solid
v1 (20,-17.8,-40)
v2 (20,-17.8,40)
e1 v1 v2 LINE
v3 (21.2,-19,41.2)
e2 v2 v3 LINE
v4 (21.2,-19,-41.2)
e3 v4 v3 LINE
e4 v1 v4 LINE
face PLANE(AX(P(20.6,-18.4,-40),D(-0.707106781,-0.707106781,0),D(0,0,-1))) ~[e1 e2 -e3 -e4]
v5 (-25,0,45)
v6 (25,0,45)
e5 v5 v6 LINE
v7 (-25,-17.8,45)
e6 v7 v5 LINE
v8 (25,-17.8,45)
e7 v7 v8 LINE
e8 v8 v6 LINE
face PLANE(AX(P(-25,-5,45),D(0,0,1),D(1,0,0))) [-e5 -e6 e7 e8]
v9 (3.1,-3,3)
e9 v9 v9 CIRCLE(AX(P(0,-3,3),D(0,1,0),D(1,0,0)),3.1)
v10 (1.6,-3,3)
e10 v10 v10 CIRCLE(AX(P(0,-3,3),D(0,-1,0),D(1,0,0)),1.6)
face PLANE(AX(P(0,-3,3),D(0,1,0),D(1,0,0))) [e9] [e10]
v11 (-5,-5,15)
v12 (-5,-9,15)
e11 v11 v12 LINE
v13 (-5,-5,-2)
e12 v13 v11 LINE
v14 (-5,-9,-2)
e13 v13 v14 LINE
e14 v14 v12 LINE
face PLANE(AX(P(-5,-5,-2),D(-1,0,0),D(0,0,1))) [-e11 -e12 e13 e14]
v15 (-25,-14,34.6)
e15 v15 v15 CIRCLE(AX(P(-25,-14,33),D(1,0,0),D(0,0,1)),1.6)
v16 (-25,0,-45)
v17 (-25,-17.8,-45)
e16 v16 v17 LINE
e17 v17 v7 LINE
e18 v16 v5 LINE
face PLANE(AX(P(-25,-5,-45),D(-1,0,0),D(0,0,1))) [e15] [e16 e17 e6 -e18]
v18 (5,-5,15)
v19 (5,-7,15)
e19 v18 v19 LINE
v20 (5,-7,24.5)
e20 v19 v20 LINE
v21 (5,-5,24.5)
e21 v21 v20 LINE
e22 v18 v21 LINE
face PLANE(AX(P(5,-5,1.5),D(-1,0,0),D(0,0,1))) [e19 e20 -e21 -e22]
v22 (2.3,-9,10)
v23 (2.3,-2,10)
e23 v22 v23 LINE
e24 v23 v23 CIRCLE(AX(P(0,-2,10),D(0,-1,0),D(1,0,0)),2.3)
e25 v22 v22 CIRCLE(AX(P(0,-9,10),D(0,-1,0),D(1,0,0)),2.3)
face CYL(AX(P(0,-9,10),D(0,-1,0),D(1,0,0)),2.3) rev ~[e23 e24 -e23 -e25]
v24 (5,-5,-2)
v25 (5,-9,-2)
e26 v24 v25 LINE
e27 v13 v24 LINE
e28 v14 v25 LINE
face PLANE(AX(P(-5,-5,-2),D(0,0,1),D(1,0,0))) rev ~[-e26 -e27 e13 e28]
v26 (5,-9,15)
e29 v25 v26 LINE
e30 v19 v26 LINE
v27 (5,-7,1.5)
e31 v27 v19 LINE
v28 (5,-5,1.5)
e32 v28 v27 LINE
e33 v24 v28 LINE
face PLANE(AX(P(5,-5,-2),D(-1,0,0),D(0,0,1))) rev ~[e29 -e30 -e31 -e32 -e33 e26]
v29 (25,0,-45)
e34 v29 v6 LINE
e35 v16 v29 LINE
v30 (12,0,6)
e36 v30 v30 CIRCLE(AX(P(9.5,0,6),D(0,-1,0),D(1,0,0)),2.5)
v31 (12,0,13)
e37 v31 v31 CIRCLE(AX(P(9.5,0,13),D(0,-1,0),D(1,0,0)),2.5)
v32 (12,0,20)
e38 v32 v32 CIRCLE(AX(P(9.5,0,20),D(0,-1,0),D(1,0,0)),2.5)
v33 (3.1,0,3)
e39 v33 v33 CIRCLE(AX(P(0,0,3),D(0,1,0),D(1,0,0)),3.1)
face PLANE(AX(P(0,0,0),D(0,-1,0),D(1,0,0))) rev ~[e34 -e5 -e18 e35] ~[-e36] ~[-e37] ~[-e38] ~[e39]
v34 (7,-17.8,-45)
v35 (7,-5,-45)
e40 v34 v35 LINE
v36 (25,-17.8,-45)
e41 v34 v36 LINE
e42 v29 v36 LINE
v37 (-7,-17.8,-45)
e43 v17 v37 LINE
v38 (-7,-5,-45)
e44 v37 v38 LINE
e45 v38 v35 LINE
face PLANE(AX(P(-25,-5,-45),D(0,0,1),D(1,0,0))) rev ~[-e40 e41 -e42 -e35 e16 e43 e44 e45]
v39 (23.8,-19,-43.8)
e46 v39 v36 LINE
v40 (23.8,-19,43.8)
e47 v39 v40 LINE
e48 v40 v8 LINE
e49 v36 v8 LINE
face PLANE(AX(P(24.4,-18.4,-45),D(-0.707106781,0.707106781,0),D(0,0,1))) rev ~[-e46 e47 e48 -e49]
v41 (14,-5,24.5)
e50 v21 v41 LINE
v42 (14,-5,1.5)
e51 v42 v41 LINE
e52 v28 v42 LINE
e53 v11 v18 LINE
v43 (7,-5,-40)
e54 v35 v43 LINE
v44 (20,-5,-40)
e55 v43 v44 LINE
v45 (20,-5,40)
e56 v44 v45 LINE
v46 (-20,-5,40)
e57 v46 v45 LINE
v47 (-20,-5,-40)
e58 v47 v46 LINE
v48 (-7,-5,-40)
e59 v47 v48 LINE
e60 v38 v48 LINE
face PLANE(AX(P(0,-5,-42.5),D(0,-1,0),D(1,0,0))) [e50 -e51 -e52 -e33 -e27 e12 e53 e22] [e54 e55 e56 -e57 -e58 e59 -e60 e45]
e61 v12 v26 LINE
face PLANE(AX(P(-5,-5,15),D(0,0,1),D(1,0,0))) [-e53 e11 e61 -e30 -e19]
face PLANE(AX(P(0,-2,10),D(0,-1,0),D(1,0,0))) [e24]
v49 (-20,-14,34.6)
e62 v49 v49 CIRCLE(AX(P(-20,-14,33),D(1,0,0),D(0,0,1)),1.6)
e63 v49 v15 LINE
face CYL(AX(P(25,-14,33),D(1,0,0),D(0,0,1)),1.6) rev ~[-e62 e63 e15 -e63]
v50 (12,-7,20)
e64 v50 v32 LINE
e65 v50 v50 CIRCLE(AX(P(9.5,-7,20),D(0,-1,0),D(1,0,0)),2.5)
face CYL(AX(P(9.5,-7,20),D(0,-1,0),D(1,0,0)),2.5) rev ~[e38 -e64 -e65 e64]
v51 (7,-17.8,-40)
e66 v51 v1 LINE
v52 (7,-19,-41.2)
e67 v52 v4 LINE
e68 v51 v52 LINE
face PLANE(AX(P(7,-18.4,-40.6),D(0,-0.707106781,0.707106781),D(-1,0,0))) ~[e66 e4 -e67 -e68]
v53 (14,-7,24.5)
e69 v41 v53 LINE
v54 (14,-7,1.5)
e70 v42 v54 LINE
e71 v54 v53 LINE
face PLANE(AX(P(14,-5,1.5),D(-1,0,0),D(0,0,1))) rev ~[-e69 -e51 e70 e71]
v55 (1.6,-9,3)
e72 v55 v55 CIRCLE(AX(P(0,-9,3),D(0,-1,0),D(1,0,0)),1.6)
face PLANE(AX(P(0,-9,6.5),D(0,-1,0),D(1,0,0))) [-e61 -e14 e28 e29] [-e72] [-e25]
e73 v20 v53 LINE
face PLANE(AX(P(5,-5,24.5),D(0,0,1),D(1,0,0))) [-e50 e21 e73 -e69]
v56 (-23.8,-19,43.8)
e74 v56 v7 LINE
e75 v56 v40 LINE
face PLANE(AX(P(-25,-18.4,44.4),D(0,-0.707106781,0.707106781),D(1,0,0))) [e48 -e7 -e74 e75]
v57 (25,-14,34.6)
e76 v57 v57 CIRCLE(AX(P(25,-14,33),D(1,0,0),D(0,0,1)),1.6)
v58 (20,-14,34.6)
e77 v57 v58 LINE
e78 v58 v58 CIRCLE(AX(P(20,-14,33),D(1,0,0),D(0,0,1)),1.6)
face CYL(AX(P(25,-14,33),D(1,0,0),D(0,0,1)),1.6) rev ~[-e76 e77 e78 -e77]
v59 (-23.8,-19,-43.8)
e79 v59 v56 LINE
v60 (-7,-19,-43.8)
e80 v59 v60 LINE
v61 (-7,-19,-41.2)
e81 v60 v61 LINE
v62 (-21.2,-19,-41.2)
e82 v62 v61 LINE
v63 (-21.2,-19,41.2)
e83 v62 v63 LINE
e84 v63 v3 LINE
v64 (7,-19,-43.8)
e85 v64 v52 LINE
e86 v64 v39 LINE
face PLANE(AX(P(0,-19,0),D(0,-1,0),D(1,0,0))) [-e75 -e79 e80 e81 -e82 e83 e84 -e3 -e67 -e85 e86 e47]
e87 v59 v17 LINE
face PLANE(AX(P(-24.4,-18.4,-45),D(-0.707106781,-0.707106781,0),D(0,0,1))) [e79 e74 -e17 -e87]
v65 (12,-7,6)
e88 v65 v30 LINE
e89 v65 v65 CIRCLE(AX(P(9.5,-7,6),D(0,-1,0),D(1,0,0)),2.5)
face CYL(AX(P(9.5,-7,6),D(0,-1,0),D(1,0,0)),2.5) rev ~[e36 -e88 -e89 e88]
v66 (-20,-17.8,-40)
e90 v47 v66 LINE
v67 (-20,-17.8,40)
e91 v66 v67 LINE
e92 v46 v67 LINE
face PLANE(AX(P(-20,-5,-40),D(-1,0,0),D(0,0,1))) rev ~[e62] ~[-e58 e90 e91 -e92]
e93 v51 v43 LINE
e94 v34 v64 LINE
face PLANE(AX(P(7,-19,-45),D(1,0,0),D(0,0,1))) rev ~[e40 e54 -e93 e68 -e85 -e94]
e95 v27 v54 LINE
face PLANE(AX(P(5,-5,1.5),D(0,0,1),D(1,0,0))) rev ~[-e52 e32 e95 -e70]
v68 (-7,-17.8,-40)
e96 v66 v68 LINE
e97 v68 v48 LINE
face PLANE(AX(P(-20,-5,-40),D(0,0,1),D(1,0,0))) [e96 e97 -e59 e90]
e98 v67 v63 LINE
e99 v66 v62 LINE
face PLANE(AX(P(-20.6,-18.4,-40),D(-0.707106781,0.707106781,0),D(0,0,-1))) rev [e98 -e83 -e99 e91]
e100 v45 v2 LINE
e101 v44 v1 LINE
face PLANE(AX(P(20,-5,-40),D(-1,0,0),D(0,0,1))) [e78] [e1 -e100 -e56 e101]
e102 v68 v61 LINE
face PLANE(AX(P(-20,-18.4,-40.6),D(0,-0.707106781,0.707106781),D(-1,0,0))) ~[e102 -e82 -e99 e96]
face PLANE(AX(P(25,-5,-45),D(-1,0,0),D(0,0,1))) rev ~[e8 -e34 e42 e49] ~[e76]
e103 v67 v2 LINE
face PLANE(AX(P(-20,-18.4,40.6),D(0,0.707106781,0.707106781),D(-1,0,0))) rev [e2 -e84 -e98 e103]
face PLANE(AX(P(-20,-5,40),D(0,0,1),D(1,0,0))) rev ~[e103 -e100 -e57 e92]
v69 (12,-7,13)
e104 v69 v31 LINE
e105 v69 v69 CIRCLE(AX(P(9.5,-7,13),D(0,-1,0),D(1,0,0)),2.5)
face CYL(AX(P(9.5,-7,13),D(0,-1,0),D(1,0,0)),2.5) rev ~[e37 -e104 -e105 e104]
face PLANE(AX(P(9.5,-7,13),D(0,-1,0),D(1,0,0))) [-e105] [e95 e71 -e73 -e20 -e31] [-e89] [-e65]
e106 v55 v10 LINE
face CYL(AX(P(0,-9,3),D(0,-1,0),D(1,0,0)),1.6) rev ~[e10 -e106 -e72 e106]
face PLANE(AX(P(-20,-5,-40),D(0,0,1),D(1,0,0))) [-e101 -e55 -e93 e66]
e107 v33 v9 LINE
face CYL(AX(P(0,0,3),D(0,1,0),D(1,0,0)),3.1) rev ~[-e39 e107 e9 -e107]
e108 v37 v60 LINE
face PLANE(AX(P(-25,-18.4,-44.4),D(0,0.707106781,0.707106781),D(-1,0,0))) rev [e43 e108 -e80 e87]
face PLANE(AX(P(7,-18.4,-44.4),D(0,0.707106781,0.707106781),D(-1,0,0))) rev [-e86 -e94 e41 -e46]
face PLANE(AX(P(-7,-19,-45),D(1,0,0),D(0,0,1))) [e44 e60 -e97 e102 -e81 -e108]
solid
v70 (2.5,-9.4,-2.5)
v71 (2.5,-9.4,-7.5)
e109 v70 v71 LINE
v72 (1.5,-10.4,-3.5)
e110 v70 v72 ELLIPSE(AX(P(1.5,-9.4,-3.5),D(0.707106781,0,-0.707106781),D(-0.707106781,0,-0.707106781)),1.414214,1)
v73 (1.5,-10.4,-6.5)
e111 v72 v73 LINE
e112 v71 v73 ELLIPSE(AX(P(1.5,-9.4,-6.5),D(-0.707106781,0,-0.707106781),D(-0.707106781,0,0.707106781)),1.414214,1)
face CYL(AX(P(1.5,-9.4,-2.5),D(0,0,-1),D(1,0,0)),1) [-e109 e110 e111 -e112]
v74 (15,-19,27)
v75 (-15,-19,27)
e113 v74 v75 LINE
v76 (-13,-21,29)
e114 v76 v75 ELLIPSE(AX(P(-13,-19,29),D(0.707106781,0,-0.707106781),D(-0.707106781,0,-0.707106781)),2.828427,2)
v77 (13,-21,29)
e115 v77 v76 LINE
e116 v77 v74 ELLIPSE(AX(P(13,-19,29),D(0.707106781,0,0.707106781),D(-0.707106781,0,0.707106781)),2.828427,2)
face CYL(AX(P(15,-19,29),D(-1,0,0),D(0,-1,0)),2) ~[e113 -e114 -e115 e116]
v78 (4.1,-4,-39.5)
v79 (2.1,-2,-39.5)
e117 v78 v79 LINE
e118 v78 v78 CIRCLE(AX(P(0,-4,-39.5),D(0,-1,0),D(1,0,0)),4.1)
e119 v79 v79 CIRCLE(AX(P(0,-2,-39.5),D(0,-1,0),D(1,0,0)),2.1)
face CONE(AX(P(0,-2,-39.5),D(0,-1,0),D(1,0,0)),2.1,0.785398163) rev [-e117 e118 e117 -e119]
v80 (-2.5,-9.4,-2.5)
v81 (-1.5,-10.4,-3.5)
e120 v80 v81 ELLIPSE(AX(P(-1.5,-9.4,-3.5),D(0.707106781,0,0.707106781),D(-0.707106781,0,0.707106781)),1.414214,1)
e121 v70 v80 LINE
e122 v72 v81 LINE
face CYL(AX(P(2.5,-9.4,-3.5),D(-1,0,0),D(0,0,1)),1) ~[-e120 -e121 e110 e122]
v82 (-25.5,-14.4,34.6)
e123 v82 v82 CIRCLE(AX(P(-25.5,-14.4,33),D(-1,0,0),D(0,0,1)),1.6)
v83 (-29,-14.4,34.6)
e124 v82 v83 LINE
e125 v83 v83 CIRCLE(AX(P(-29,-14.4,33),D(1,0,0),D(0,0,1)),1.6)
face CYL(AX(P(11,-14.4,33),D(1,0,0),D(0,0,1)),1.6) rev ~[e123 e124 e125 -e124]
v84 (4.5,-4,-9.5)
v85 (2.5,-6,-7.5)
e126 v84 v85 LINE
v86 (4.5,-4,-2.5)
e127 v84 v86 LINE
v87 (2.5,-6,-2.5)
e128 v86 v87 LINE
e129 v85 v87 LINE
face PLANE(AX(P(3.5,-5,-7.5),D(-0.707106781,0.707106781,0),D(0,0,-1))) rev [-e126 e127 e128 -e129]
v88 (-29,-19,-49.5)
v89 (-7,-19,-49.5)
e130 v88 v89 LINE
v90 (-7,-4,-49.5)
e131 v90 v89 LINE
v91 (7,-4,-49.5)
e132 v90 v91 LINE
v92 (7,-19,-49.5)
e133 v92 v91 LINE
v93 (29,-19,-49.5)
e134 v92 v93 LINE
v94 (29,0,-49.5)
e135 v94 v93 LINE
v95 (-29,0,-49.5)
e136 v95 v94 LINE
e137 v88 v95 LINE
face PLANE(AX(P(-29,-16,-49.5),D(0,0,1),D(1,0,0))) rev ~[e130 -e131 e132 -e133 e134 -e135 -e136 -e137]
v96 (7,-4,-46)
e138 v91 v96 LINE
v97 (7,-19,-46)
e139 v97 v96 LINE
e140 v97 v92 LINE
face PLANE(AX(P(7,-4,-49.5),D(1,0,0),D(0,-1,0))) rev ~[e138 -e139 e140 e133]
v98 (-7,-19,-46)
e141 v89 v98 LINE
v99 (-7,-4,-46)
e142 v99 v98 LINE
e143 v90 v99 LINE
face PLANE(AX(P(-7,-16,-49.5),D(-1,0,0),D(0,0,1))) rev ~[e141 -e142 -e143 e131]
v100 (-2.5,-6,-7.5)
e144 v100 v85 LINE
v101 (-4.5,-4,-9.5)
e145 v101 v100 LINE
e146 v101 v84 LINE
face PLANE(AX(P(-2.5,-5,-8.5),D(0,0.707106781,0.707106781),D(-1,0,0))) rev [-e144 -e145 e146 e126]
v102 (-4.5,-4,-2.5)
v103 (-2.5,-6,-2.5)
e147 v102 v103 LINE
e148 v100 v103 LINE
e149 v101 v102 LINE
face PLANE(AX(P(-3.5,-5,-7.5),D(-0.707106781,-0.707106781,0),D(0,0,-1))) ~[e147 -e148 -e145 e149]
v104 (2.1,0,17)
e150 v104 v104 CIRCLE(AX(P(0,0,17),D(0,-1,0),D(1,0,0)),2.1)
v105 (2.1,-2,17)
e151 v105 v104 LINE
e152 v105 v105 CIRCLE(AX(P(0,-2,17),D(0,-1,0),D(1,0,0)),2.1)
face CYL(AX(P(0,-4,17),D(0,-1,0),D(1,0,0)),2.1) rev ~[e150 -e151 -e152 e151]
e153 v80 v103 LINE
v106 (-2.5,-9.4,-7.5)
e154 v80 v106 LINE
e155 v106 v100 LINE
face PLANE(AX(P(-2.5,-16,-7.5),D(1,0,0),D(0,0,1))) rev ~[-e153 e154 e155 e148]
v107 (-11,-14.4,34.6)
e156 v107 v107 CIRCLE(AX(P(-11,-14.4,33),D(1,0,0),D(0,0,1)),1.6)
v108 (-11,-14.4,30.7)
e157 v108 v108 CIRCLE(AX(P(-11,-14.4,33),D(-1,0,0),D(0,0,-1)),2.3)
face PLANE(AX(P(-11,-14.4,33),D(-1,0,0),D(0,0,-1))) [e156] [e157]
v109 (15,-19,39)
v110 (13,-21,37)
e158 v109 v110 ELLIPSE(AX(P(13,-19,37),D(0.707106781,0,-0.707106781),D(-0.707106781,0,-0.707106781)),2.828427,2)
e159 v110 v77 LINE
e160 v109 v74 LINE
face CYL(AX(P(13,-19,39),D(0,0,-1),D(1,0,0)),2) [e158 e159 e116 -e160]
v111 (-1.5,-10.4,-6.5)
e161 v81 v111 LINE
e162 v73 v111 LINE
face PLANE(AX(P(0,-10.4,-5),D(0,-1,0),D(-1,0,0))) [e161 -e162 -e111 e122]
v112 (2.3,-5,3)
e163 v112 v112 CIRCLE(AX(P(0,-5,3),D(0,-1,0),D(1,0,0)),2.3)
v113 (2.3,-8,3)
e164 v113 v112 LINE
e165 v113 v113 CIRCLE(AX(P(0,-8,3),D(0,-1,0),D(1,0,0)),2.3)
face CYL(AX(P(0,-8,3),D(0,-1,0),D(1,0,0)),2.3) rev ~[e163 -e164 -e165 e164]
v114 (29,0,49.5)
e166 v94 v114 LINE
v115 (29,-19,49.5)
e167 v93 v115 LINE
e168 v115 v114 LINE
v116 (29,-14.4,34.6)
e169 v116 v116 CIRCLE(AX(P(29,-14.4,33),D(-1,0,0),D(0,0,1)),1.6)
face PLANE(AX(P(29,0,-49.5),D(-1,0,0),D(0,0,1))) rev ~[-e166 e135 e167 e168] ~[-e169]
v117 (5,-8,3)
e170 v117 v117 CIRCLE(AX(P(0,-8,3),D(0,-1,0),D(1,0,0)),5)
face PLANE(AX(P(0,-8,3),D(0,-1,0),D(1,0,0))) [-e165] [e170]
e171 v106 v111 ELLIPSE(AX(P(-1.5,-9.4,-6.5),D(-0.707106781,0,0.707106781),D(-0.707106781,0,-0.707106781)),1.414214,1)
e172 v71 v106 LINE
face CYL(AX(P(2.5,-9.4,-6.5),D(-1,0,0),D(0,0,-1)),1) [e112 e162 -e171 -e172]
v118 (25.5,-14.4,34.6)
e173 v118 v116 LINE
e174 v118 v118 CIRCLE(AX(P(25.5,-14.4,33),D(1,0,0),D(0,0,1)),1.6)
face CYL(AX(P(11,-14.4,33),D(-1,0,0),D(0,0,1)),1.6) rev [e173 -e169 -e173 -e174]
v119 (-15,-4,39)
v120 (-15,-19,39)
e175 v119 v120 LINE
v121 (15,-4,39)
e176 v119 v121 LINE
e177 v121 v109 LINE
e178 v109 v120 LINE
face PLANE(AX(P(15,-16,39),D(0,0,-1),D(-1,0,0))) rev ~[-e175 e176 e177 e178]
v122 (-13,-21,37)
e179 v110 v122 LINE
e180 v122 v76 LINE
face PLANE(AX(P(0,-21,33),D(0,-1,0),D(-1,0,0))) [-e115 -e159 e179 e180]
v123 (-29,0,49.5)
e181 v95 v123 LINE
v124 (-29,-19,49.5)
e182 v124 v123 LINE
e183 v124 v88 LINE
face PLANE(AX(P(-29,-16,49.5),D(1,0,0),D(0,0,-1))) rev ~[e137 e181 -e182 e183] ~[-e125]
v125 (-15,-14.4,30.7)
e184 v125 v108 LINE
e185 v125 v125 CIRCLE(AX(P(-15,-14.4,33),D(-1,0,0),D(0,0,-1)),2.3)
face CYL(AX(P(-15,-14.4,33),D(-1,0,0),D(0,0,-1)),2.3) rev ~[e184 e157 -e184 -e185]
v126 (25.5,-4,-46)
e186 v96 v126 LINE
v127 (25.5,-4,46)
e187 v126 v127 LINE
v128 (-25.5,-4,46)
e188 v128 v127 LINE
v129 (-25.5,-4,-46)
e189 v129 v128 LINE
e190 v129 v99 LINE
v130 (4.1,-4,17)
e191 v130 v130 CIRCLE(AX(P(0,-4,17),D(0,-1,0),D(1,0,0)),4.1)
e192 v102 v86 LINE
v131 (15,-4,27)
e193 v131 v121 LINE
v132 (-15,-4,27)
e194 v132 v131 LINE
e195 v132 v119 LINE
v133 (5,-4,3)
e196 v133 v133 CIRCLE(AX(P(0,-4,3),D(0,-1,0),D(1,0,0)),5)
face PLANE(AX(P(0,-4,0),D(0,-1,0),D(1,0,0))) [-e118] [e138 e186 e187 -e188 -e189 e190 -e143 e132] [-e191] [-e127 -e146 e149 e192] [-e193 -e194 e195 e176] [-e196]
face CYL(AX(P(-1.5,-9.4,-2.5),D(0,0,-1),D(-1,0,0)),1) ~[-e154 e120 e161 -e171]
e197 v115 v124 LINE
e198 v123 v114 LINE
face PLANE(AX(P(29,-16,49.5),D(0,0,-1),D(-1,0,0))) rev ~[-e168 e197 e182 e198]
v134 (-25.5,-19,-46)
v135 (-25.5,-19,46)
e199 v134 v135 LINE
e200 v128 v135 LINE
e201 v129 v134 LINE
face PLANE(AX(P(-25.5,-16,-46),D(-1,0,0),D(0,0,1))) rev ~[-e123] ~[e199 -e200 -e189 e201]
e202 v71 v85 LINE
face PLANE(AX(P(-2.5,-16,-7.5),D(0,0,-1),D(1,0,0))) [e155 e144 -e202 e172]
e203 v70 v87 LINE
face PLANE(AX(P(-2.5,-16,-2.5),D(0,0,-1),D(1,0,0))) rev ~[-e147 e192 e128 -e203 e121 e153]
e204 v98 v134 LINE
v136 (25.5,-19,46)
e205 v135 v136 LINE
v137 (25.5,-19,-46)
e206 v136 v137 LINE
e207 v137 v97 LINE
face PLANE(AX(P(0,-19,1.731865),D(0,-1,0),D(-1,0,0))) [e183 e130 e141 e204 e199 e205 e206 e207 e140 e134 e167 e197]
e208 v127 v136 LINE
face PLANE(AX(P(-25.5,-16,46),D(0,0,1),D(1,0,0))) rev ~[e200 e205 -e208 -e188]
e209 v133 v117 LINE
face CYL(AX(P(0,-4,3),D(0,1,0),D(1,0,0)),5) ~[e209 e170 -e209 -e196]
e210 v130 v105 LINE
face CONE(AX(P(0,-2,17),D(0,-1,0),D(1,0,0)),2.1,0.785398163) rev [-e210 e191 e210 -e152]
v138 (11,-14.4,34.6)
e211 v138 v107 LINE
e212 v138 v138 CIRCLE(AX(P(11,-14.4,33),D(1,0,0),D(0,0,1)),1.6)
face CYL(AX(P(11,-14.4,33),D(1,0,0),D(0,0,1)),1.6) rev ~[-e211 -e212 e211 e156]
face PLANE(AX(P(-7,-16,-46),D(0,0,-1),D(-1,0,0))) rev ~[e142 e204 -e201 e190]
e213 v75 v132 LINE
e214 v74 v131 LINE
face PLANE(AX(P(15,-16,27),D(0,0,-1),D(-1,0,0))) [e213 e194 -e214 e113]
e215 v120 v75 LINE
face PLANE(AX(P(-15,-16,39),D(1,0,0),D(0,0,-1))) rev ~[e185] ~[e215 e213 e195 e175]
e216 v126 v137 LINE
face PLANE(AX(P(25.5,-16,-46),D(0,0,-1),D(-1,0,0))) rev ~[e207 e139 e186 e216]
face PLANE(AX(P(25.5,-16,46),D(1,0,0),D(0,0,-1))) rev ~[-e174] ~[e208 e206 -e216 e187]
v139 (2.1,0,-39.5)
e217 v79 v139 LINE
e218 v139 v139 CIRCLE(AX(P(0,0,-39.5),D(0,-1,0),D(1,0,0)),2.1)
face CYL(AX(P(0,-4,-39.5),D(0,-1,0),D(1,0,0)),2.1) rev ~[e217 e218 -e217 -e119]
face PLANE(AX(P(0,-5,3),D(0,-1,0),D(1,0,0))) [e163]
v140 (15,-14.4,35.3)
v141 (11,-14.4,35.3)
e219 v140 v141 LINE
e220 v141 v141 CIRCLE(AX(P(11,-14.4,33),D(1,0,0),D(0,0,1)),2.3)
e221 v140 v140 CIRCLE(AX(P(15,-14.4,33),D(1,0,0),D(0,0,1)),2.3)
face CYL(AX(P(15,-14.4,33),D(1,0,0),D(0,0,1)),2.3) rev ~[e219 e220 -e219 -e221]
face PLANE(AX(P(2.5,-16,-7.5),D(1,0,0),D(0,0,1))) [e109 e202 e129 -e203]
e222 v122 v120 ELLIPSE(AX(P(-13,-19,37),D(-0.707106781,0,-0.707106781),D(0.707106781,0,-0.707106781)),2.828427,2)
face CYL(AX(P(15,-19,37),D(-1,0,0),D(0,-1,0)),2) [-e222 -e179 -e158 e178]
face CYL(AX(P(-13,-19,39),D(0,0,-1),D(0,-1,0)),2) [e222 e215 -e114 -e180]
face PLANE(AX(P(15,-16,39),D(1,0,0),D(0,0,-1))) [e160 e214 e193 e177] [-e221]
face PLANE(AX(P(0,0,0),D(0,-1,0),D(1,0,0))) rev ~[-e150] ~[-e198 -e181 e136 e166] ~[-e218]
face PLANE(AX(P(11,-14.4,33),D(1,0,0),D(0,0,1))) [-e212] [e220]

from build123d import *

# Parameters (mm, degrees)
SKETCH006_W          = 58
SKETCH006_H          = 99
PAD004_DEPTH         = 16
SKETCH007_W          = 51
SKETCH007_H          = 92
SKETCH007_W_2        = 30
SKETCH007_H_2        = 12
SKETCH007_W_3        = 5
SKETCH007_H_3        = 5
POCKET004_DEPTH      = 12
POCKET004_FACE21_W   = 5
POCKET004_FACE21_H   = 5
POCKET005_DEPTH      = 5.6
POCKET005_FACE20_W   = 30
POCKET005_FACE20_H   = 12
PAD005_DEPTH         = 5
SKETCH009_R          = 2.3
POCKET006_DEPTH      = 4
SKETCH010_R          = 2.3
POCKET007_DEPTH      = 4
SKETCH011_R          = 1.6
POCKET008_DEPTH      = 40.001
POCKET008_DEPTH_BACK = -18.001
FILLET_R             = 2
FILLET001_R          = 1
SKETCH012_W          = 14
SKETCH012_H          = 12
POCKET009_DEPTH      = 3.5
SKETCH015_R          = 5
PAD007_DEPTH         = 4
SKETCH016_R          = 2.3
POCKET012_DEPTH      = 3
PAD012_DEPTH         = 3
SKETCH_R             = 2.1
POCKET_DEPTH         = 4.001
CHAMFER_SIZE         = 2
CHAMFER001_SIZE      = 2
SKETCH017_W          = 50
SKETCH017_H          = 90
PAD008_DEPTH         = 5
SKETCH018_W          = 50
SKETCH018_H          = 90
SKETCH018_W_2        = 40
SKETCH018_H_2        = 80
PAD009_DEPTH         = 14
SKETCH019_W          = 14
SKETCH019_H          = 5
POCKET013_DEPTH      = 14
SKETCH020_W          = 10
SKETCH020_H          = 17
PAD010_DEPTH         = 4
SKETCH021_R          = 2.3
SKETCH021_R_2        = 1.6
POCKET014_DEPTH      = 7
POCKET014_FACE22_R   = 1.6
POCKET015_DEPTH      = 2.001
SKETCH022_R          = 3.1
POCKET016_DEPTH      = 3
SKETCH023_W          = 9
SKETCH023_H          = 23
PAD011_DEPTH         = 2
SKETCH024_R          = 2.5
POCKET017_DEPTH      = 7.001
SKETCH025_R          = 1.6
POCKET018_DEPTH      = 50.001
CHAMFER002_SIZE      = 1.2


with BuildPart() as backplate:
    # Sketch006 → Pad004 (new body)
    with BuildSketch(Plane.XZ):
        Rectangle(SKETCH006_W, SKETCH006_H)
    extrude(amount=PAD004_DEPTH)

    # Sketch007 (on Face6 of Pad004) → Pocket004 (cut)
    with BuildSketch(Plane.XZ.offset(16)):
        Rectangle(SKETCH007_W, SKETCH007_H)
        with Locations((0, 33)):
            Rectangle(SKETCH007_W_2, SKETCH007_H_2, mode=Mode.SUBTRACT)
        with Locations((0, -5)):
            Rectangle(SKETCH007_W_3, SKETCH007_H_3, mode=Mode.SUBTRACT)
    extrude(amount=-POCKET004_DEPTH, mode=Mode.SUBTRACT)

    # Pocket004 Face21 → Pocket005 (cut)
    with BuildSketch(Plane(origin=(0, -16, -5), x_dir=(-1, 0, 0), z_dir=(0, -1, 0))):
        Rectangle(POCKET004_FACE21_W, POCKET004_FACE21_H)
    extrude(amount=-POCKET005_DEPTH, mode=Mode.SUBTRACT)

    # Pocket005 Face20 → Pad005 (add)
    with BuildSketch(Plane(origin=(0, -16, 33), x_dir=(-1, 0, 0), z_dir=(0, -1, 0))):
        Rectangle(POCKET005_FACE20_W, POCKET005_FACE20_H)
    extrude(amount=PAD005_DEPTH)

    # Sketch009 (on Face20 of Pad005) → Pocket006 (cut)
    with BuildSketch(Plane(origin=(15, 0, 0), x_dir=(0, 0, 1), z_dir=(1, 0, 0))):
        with Locations((33, 14.4)):
            Circle(SKETCH009_R)
    extrude(amount=-POCKET006_DEPTH, mode=Mode.SUBTRACT)

    # Sketch010 (on Face12 of Pocket006) → Pocket007 (cut)
    with BuildSketch(Plane(origin=(-15, 0, 0), x_dir=(0, 0, -1), z_dir=(-1, 0, 0))):
        with Locations((-33, 14.4)):
            Circle(SKETCH010_R)
    extrude(amount=-POCKET007_DEPTH, mode=Mode.SUBTRACT)

    # Sketch011 (on Face25 of Pocket007) → Pocket008 (cut, two sides)
    with BuildSketch(Plane(origin=(11, 0, 0), x_dir=(0, 0, 1), z_dir=(1, 0, 0))) as pocket008_sk:
        with Locations((33, 14.4)):
            Circle(SKETCH011_R)
    extrude(amount=-POCKET008_DEPTH, mode=Mode.SUBTRACT)
    extrude(pocket008_sk.sketch, amount=-POCKET008_DEPTH_BACK, mode=Mode.SUBTRACT)

    # Fillet
    fillet_edges = [backplate.edges().sort_by_distance(p)[0] for p in [
        (-15, -21, 33),
        (0, -21, 27),
        (15, -21, 33),
        (0, -21, 39),
    ]]
    fillet(fillet_edges, radius=FILLET_R)

    # Fillet001
    fillet001_edges = [backplate.edges().sort_by_distance(p)[0] for p in [
        (0, -10.4, -7.5),
        (2.5, -10.4, -5),
        (0, -10.4, -2.5),
        (-2.5, -10.4, -5),
    ]]
    fillet(fillet001_edges, radius=FILLET001_R)

    # Sketch012 (on Face28 of Fillet001) → Pocket009 (cut)
    with BuildSketch(Plane(origin=(0, 0, -49.5), x_dir=(1, 0, 0), z_dir=(0, 0, -1))):
        with Locations((0, 10)):
            Rectangle(SKETCH012_W, SKETCH012_H)
    extrude(amount=-POCKET009_DEPTH, mode=Mode.SUBTRACT)

    # Sketch015 (on Face16 of Pocket009) → Pad007 (join)
    with BuildSketch(Plane.XZ.offset(4)):
        with Locations((0, 3)):
            Circle(SKETCH015_R)
    extrude(amount=PAD007_DEPTH)

    # Sketch016 (on Face30 of Pad007) → Pocket012 (cut)
    with BuildSketch(Plane.XZ.offset(8)):
        with Locations((0, 3)):
            Circle(SKETCH016_R)
    extrude(amount=-POCKET012_DEPTH, mode=Mode.SUBTRACT)

    # Pocket012 Face2 → Pad012 (add)
    with BuildSketch(Plane(origin=(0, -16, 2.337413), x_dir=(-1, 0, 0), z_dir=(0, -1, 0))):
        Polygon((29, -30.662587), (29, 51.837413), (7, 51.837413), (7, 48.337413), (25.5, 48.337413), (25.5, -30.662587), (25.5, -43.662587), (-25.5, -43.662587), (-25.5, -30.662587), (-25.5, 48.337413), (-7, 48.337413), (-7, 51.837413), (-29, 51.837413), (-29, -30.662587), (-29, -47.162587), (29, -47.162587), align=None)
    extrude(amount=PAD012_DEPTH)

    # Sketch (on Face3 of Pad012) → Pocket (cut, through all)
    with BuildSketch(Plane.XZ.offset(4)):
        with Locations((0, -39.5)):
            Circle(SKETCH_R)
        with Locations((0, 17)):
            Circle(SKETCH_R)
    extrude(amount=-POCKET_DEPTH, mode=Mode.SUBTRACT)

    # Chamfer
    chamfer_edges = [backplate.edges().sort_by_distance(p)[0] for p in [
        (-2.1, -4, 17),
        (-2.1, -4, -39.5),
    ]]
    chamfer(chamfer_edges, length=CHAMFER_SIZE)

    # Chamfer001
    chamfer001_edges = [backplate.edges().sort_by_distance(p)[0] for p in [
        (2.5, -4, -5),
        (0, -4, -7.5),
        (-2.5, -4, -5),
    ]]
    chamfer(chamfer001_edges, length=CHAMFER001_SIZE)


with BuildPart() as pressplate:
    # Sketch017 → Pad008 (new body)
    with BuildSketch(Plane.XZ):
        Rectangle(SKETCH017_W, SKETCH017_H)
    extrude(amount=PAD008_DEPTH)

    # Sketch018 (on Face6 of Pad008) → Pad009 (join)
    with BuildSketch(Plane.XZ.offset(5)):
        Rectangle(SKETCH018_W, SKETCH018_H)
        Rectangle(SKETCH018_W_2, SKETCH018_H_2, mode=Mode.SUBTRACT)
    extrude(amount=PAD009_DEPTH)

    # Sketch019 (on Face3 of Pad009) → Pocket013 (cut)
    with BuildSketch(Plane.XZ.offset(19)):
        with Locations((0, -42.5)):
            Rectangle(SKETCH019_W, SKETCH019_H)
    extrude(amount=-POCKET013_DEPTH, mode=Mode.SUBTRACT)

    # Sketch020 (on Face14 of Pocket013) → Pad010 (join)
    with BuildSketch(Plane.XZ.offset(5)):
        with Locations((0, 6.5)):
            Rectangle(SKETCH020_W, SKETCH020_H)
    extrude(amount=PAD010_DEPTH)

    # Sketch021 (on Face19 of Pad010) → Pocket014 (cut)
    with BuildSketch(Plane.XZ.offset(9)):
        with Locations((0, 10)):
            Circle(SKETCH021_R)
        with Locations((0, 3)):
            Circle(SKETCH021_R_2)
    extrude(amount=-POCKET014_DEPTH, mode=Mode.SUBTRACT)

    # Pocket014 Face22 → Pocket015 (cut, through all)
    with BuildSketch(Plane(origin=(0, -2, 3), x_dir=(-1, 0, 0), z_dir=(0, -1, 0))):
        Circle(POCKET014_FACE22_R)
    extrude(amount=-POCKET015_DEPTH, mode=Mode.SUBTRACT)

    # Sketch022 (on Face1 of Pocket015) → Pocket016 (cut)
    with BuildSketch(Plane(origin=(0, 0, 0), x_dir=(1, 0, 0), z_dir=(0, 1, 0))):
        with Locations((0, -3)):
            Circle(SKETCH022_R)
    extrude(amount=-POCKET016_DEPTH, mode=Mode.SUBTRACT)

    # Sketch023 (on Face9 of Pocket016) → Pad011 (join)
    with BuildSketch(Plane.XZ.offset(5)):
        with Locations((9.5, 13)):
            Rectangle(SKETCH023_W, SKETCH023_H)
    extrude(amount=PAD011_DEPTH)

    # Sketch024 (on Face27 of Pad011) → Pocket017 (cut, through all)
    with BuildSketch(Plane.XZ.offset(7)):
        with Locations((9.5, 20)):
            Circle(SKETCH024_R)
        with Locations((9.5, 13)):
            Circle(SKETCH024_R)
        with Locations((9.5, 6)):
            Circle(SKETCH024_R)
    extrude(amount=-POCKET017_DEPTH, mode=Mode.SUBTRACT)

    # Sketch025 (on Face4 of Pocket017) → Pocket018 (cut, through all)
    with BuildSketch(Plane(origin=(25, 0, 0), x_dir=(0, 0, 1), z_dir=(1, 0, 0))):
        with Locations((33, 14)):
            Circle(SKETCH025_R)
    extrude(amount=-POCKET018_DEPTH, mode=Mode.SUBTRACT)

    # Chamfer002
    chamfer002_edges = [pressplate.edges().sort_by_distance(p)[0] for p in [
        (-20, -19, 0),
        (-25, -19, 0),
        (0, -19, 45),
        (0, -19, 40),
        (20, -19, 0),
        (25, -19, 0),
        (16, -19, -45),
        (13.5, -19, -40),
        (-13.5, -19, -40),
        (-16, -19, -45),
    ]]
    chamfer(chamfer002_edges, length=CHAMFER002_SIZE)


solid = Compound([backplate.part, pressplate.part])
